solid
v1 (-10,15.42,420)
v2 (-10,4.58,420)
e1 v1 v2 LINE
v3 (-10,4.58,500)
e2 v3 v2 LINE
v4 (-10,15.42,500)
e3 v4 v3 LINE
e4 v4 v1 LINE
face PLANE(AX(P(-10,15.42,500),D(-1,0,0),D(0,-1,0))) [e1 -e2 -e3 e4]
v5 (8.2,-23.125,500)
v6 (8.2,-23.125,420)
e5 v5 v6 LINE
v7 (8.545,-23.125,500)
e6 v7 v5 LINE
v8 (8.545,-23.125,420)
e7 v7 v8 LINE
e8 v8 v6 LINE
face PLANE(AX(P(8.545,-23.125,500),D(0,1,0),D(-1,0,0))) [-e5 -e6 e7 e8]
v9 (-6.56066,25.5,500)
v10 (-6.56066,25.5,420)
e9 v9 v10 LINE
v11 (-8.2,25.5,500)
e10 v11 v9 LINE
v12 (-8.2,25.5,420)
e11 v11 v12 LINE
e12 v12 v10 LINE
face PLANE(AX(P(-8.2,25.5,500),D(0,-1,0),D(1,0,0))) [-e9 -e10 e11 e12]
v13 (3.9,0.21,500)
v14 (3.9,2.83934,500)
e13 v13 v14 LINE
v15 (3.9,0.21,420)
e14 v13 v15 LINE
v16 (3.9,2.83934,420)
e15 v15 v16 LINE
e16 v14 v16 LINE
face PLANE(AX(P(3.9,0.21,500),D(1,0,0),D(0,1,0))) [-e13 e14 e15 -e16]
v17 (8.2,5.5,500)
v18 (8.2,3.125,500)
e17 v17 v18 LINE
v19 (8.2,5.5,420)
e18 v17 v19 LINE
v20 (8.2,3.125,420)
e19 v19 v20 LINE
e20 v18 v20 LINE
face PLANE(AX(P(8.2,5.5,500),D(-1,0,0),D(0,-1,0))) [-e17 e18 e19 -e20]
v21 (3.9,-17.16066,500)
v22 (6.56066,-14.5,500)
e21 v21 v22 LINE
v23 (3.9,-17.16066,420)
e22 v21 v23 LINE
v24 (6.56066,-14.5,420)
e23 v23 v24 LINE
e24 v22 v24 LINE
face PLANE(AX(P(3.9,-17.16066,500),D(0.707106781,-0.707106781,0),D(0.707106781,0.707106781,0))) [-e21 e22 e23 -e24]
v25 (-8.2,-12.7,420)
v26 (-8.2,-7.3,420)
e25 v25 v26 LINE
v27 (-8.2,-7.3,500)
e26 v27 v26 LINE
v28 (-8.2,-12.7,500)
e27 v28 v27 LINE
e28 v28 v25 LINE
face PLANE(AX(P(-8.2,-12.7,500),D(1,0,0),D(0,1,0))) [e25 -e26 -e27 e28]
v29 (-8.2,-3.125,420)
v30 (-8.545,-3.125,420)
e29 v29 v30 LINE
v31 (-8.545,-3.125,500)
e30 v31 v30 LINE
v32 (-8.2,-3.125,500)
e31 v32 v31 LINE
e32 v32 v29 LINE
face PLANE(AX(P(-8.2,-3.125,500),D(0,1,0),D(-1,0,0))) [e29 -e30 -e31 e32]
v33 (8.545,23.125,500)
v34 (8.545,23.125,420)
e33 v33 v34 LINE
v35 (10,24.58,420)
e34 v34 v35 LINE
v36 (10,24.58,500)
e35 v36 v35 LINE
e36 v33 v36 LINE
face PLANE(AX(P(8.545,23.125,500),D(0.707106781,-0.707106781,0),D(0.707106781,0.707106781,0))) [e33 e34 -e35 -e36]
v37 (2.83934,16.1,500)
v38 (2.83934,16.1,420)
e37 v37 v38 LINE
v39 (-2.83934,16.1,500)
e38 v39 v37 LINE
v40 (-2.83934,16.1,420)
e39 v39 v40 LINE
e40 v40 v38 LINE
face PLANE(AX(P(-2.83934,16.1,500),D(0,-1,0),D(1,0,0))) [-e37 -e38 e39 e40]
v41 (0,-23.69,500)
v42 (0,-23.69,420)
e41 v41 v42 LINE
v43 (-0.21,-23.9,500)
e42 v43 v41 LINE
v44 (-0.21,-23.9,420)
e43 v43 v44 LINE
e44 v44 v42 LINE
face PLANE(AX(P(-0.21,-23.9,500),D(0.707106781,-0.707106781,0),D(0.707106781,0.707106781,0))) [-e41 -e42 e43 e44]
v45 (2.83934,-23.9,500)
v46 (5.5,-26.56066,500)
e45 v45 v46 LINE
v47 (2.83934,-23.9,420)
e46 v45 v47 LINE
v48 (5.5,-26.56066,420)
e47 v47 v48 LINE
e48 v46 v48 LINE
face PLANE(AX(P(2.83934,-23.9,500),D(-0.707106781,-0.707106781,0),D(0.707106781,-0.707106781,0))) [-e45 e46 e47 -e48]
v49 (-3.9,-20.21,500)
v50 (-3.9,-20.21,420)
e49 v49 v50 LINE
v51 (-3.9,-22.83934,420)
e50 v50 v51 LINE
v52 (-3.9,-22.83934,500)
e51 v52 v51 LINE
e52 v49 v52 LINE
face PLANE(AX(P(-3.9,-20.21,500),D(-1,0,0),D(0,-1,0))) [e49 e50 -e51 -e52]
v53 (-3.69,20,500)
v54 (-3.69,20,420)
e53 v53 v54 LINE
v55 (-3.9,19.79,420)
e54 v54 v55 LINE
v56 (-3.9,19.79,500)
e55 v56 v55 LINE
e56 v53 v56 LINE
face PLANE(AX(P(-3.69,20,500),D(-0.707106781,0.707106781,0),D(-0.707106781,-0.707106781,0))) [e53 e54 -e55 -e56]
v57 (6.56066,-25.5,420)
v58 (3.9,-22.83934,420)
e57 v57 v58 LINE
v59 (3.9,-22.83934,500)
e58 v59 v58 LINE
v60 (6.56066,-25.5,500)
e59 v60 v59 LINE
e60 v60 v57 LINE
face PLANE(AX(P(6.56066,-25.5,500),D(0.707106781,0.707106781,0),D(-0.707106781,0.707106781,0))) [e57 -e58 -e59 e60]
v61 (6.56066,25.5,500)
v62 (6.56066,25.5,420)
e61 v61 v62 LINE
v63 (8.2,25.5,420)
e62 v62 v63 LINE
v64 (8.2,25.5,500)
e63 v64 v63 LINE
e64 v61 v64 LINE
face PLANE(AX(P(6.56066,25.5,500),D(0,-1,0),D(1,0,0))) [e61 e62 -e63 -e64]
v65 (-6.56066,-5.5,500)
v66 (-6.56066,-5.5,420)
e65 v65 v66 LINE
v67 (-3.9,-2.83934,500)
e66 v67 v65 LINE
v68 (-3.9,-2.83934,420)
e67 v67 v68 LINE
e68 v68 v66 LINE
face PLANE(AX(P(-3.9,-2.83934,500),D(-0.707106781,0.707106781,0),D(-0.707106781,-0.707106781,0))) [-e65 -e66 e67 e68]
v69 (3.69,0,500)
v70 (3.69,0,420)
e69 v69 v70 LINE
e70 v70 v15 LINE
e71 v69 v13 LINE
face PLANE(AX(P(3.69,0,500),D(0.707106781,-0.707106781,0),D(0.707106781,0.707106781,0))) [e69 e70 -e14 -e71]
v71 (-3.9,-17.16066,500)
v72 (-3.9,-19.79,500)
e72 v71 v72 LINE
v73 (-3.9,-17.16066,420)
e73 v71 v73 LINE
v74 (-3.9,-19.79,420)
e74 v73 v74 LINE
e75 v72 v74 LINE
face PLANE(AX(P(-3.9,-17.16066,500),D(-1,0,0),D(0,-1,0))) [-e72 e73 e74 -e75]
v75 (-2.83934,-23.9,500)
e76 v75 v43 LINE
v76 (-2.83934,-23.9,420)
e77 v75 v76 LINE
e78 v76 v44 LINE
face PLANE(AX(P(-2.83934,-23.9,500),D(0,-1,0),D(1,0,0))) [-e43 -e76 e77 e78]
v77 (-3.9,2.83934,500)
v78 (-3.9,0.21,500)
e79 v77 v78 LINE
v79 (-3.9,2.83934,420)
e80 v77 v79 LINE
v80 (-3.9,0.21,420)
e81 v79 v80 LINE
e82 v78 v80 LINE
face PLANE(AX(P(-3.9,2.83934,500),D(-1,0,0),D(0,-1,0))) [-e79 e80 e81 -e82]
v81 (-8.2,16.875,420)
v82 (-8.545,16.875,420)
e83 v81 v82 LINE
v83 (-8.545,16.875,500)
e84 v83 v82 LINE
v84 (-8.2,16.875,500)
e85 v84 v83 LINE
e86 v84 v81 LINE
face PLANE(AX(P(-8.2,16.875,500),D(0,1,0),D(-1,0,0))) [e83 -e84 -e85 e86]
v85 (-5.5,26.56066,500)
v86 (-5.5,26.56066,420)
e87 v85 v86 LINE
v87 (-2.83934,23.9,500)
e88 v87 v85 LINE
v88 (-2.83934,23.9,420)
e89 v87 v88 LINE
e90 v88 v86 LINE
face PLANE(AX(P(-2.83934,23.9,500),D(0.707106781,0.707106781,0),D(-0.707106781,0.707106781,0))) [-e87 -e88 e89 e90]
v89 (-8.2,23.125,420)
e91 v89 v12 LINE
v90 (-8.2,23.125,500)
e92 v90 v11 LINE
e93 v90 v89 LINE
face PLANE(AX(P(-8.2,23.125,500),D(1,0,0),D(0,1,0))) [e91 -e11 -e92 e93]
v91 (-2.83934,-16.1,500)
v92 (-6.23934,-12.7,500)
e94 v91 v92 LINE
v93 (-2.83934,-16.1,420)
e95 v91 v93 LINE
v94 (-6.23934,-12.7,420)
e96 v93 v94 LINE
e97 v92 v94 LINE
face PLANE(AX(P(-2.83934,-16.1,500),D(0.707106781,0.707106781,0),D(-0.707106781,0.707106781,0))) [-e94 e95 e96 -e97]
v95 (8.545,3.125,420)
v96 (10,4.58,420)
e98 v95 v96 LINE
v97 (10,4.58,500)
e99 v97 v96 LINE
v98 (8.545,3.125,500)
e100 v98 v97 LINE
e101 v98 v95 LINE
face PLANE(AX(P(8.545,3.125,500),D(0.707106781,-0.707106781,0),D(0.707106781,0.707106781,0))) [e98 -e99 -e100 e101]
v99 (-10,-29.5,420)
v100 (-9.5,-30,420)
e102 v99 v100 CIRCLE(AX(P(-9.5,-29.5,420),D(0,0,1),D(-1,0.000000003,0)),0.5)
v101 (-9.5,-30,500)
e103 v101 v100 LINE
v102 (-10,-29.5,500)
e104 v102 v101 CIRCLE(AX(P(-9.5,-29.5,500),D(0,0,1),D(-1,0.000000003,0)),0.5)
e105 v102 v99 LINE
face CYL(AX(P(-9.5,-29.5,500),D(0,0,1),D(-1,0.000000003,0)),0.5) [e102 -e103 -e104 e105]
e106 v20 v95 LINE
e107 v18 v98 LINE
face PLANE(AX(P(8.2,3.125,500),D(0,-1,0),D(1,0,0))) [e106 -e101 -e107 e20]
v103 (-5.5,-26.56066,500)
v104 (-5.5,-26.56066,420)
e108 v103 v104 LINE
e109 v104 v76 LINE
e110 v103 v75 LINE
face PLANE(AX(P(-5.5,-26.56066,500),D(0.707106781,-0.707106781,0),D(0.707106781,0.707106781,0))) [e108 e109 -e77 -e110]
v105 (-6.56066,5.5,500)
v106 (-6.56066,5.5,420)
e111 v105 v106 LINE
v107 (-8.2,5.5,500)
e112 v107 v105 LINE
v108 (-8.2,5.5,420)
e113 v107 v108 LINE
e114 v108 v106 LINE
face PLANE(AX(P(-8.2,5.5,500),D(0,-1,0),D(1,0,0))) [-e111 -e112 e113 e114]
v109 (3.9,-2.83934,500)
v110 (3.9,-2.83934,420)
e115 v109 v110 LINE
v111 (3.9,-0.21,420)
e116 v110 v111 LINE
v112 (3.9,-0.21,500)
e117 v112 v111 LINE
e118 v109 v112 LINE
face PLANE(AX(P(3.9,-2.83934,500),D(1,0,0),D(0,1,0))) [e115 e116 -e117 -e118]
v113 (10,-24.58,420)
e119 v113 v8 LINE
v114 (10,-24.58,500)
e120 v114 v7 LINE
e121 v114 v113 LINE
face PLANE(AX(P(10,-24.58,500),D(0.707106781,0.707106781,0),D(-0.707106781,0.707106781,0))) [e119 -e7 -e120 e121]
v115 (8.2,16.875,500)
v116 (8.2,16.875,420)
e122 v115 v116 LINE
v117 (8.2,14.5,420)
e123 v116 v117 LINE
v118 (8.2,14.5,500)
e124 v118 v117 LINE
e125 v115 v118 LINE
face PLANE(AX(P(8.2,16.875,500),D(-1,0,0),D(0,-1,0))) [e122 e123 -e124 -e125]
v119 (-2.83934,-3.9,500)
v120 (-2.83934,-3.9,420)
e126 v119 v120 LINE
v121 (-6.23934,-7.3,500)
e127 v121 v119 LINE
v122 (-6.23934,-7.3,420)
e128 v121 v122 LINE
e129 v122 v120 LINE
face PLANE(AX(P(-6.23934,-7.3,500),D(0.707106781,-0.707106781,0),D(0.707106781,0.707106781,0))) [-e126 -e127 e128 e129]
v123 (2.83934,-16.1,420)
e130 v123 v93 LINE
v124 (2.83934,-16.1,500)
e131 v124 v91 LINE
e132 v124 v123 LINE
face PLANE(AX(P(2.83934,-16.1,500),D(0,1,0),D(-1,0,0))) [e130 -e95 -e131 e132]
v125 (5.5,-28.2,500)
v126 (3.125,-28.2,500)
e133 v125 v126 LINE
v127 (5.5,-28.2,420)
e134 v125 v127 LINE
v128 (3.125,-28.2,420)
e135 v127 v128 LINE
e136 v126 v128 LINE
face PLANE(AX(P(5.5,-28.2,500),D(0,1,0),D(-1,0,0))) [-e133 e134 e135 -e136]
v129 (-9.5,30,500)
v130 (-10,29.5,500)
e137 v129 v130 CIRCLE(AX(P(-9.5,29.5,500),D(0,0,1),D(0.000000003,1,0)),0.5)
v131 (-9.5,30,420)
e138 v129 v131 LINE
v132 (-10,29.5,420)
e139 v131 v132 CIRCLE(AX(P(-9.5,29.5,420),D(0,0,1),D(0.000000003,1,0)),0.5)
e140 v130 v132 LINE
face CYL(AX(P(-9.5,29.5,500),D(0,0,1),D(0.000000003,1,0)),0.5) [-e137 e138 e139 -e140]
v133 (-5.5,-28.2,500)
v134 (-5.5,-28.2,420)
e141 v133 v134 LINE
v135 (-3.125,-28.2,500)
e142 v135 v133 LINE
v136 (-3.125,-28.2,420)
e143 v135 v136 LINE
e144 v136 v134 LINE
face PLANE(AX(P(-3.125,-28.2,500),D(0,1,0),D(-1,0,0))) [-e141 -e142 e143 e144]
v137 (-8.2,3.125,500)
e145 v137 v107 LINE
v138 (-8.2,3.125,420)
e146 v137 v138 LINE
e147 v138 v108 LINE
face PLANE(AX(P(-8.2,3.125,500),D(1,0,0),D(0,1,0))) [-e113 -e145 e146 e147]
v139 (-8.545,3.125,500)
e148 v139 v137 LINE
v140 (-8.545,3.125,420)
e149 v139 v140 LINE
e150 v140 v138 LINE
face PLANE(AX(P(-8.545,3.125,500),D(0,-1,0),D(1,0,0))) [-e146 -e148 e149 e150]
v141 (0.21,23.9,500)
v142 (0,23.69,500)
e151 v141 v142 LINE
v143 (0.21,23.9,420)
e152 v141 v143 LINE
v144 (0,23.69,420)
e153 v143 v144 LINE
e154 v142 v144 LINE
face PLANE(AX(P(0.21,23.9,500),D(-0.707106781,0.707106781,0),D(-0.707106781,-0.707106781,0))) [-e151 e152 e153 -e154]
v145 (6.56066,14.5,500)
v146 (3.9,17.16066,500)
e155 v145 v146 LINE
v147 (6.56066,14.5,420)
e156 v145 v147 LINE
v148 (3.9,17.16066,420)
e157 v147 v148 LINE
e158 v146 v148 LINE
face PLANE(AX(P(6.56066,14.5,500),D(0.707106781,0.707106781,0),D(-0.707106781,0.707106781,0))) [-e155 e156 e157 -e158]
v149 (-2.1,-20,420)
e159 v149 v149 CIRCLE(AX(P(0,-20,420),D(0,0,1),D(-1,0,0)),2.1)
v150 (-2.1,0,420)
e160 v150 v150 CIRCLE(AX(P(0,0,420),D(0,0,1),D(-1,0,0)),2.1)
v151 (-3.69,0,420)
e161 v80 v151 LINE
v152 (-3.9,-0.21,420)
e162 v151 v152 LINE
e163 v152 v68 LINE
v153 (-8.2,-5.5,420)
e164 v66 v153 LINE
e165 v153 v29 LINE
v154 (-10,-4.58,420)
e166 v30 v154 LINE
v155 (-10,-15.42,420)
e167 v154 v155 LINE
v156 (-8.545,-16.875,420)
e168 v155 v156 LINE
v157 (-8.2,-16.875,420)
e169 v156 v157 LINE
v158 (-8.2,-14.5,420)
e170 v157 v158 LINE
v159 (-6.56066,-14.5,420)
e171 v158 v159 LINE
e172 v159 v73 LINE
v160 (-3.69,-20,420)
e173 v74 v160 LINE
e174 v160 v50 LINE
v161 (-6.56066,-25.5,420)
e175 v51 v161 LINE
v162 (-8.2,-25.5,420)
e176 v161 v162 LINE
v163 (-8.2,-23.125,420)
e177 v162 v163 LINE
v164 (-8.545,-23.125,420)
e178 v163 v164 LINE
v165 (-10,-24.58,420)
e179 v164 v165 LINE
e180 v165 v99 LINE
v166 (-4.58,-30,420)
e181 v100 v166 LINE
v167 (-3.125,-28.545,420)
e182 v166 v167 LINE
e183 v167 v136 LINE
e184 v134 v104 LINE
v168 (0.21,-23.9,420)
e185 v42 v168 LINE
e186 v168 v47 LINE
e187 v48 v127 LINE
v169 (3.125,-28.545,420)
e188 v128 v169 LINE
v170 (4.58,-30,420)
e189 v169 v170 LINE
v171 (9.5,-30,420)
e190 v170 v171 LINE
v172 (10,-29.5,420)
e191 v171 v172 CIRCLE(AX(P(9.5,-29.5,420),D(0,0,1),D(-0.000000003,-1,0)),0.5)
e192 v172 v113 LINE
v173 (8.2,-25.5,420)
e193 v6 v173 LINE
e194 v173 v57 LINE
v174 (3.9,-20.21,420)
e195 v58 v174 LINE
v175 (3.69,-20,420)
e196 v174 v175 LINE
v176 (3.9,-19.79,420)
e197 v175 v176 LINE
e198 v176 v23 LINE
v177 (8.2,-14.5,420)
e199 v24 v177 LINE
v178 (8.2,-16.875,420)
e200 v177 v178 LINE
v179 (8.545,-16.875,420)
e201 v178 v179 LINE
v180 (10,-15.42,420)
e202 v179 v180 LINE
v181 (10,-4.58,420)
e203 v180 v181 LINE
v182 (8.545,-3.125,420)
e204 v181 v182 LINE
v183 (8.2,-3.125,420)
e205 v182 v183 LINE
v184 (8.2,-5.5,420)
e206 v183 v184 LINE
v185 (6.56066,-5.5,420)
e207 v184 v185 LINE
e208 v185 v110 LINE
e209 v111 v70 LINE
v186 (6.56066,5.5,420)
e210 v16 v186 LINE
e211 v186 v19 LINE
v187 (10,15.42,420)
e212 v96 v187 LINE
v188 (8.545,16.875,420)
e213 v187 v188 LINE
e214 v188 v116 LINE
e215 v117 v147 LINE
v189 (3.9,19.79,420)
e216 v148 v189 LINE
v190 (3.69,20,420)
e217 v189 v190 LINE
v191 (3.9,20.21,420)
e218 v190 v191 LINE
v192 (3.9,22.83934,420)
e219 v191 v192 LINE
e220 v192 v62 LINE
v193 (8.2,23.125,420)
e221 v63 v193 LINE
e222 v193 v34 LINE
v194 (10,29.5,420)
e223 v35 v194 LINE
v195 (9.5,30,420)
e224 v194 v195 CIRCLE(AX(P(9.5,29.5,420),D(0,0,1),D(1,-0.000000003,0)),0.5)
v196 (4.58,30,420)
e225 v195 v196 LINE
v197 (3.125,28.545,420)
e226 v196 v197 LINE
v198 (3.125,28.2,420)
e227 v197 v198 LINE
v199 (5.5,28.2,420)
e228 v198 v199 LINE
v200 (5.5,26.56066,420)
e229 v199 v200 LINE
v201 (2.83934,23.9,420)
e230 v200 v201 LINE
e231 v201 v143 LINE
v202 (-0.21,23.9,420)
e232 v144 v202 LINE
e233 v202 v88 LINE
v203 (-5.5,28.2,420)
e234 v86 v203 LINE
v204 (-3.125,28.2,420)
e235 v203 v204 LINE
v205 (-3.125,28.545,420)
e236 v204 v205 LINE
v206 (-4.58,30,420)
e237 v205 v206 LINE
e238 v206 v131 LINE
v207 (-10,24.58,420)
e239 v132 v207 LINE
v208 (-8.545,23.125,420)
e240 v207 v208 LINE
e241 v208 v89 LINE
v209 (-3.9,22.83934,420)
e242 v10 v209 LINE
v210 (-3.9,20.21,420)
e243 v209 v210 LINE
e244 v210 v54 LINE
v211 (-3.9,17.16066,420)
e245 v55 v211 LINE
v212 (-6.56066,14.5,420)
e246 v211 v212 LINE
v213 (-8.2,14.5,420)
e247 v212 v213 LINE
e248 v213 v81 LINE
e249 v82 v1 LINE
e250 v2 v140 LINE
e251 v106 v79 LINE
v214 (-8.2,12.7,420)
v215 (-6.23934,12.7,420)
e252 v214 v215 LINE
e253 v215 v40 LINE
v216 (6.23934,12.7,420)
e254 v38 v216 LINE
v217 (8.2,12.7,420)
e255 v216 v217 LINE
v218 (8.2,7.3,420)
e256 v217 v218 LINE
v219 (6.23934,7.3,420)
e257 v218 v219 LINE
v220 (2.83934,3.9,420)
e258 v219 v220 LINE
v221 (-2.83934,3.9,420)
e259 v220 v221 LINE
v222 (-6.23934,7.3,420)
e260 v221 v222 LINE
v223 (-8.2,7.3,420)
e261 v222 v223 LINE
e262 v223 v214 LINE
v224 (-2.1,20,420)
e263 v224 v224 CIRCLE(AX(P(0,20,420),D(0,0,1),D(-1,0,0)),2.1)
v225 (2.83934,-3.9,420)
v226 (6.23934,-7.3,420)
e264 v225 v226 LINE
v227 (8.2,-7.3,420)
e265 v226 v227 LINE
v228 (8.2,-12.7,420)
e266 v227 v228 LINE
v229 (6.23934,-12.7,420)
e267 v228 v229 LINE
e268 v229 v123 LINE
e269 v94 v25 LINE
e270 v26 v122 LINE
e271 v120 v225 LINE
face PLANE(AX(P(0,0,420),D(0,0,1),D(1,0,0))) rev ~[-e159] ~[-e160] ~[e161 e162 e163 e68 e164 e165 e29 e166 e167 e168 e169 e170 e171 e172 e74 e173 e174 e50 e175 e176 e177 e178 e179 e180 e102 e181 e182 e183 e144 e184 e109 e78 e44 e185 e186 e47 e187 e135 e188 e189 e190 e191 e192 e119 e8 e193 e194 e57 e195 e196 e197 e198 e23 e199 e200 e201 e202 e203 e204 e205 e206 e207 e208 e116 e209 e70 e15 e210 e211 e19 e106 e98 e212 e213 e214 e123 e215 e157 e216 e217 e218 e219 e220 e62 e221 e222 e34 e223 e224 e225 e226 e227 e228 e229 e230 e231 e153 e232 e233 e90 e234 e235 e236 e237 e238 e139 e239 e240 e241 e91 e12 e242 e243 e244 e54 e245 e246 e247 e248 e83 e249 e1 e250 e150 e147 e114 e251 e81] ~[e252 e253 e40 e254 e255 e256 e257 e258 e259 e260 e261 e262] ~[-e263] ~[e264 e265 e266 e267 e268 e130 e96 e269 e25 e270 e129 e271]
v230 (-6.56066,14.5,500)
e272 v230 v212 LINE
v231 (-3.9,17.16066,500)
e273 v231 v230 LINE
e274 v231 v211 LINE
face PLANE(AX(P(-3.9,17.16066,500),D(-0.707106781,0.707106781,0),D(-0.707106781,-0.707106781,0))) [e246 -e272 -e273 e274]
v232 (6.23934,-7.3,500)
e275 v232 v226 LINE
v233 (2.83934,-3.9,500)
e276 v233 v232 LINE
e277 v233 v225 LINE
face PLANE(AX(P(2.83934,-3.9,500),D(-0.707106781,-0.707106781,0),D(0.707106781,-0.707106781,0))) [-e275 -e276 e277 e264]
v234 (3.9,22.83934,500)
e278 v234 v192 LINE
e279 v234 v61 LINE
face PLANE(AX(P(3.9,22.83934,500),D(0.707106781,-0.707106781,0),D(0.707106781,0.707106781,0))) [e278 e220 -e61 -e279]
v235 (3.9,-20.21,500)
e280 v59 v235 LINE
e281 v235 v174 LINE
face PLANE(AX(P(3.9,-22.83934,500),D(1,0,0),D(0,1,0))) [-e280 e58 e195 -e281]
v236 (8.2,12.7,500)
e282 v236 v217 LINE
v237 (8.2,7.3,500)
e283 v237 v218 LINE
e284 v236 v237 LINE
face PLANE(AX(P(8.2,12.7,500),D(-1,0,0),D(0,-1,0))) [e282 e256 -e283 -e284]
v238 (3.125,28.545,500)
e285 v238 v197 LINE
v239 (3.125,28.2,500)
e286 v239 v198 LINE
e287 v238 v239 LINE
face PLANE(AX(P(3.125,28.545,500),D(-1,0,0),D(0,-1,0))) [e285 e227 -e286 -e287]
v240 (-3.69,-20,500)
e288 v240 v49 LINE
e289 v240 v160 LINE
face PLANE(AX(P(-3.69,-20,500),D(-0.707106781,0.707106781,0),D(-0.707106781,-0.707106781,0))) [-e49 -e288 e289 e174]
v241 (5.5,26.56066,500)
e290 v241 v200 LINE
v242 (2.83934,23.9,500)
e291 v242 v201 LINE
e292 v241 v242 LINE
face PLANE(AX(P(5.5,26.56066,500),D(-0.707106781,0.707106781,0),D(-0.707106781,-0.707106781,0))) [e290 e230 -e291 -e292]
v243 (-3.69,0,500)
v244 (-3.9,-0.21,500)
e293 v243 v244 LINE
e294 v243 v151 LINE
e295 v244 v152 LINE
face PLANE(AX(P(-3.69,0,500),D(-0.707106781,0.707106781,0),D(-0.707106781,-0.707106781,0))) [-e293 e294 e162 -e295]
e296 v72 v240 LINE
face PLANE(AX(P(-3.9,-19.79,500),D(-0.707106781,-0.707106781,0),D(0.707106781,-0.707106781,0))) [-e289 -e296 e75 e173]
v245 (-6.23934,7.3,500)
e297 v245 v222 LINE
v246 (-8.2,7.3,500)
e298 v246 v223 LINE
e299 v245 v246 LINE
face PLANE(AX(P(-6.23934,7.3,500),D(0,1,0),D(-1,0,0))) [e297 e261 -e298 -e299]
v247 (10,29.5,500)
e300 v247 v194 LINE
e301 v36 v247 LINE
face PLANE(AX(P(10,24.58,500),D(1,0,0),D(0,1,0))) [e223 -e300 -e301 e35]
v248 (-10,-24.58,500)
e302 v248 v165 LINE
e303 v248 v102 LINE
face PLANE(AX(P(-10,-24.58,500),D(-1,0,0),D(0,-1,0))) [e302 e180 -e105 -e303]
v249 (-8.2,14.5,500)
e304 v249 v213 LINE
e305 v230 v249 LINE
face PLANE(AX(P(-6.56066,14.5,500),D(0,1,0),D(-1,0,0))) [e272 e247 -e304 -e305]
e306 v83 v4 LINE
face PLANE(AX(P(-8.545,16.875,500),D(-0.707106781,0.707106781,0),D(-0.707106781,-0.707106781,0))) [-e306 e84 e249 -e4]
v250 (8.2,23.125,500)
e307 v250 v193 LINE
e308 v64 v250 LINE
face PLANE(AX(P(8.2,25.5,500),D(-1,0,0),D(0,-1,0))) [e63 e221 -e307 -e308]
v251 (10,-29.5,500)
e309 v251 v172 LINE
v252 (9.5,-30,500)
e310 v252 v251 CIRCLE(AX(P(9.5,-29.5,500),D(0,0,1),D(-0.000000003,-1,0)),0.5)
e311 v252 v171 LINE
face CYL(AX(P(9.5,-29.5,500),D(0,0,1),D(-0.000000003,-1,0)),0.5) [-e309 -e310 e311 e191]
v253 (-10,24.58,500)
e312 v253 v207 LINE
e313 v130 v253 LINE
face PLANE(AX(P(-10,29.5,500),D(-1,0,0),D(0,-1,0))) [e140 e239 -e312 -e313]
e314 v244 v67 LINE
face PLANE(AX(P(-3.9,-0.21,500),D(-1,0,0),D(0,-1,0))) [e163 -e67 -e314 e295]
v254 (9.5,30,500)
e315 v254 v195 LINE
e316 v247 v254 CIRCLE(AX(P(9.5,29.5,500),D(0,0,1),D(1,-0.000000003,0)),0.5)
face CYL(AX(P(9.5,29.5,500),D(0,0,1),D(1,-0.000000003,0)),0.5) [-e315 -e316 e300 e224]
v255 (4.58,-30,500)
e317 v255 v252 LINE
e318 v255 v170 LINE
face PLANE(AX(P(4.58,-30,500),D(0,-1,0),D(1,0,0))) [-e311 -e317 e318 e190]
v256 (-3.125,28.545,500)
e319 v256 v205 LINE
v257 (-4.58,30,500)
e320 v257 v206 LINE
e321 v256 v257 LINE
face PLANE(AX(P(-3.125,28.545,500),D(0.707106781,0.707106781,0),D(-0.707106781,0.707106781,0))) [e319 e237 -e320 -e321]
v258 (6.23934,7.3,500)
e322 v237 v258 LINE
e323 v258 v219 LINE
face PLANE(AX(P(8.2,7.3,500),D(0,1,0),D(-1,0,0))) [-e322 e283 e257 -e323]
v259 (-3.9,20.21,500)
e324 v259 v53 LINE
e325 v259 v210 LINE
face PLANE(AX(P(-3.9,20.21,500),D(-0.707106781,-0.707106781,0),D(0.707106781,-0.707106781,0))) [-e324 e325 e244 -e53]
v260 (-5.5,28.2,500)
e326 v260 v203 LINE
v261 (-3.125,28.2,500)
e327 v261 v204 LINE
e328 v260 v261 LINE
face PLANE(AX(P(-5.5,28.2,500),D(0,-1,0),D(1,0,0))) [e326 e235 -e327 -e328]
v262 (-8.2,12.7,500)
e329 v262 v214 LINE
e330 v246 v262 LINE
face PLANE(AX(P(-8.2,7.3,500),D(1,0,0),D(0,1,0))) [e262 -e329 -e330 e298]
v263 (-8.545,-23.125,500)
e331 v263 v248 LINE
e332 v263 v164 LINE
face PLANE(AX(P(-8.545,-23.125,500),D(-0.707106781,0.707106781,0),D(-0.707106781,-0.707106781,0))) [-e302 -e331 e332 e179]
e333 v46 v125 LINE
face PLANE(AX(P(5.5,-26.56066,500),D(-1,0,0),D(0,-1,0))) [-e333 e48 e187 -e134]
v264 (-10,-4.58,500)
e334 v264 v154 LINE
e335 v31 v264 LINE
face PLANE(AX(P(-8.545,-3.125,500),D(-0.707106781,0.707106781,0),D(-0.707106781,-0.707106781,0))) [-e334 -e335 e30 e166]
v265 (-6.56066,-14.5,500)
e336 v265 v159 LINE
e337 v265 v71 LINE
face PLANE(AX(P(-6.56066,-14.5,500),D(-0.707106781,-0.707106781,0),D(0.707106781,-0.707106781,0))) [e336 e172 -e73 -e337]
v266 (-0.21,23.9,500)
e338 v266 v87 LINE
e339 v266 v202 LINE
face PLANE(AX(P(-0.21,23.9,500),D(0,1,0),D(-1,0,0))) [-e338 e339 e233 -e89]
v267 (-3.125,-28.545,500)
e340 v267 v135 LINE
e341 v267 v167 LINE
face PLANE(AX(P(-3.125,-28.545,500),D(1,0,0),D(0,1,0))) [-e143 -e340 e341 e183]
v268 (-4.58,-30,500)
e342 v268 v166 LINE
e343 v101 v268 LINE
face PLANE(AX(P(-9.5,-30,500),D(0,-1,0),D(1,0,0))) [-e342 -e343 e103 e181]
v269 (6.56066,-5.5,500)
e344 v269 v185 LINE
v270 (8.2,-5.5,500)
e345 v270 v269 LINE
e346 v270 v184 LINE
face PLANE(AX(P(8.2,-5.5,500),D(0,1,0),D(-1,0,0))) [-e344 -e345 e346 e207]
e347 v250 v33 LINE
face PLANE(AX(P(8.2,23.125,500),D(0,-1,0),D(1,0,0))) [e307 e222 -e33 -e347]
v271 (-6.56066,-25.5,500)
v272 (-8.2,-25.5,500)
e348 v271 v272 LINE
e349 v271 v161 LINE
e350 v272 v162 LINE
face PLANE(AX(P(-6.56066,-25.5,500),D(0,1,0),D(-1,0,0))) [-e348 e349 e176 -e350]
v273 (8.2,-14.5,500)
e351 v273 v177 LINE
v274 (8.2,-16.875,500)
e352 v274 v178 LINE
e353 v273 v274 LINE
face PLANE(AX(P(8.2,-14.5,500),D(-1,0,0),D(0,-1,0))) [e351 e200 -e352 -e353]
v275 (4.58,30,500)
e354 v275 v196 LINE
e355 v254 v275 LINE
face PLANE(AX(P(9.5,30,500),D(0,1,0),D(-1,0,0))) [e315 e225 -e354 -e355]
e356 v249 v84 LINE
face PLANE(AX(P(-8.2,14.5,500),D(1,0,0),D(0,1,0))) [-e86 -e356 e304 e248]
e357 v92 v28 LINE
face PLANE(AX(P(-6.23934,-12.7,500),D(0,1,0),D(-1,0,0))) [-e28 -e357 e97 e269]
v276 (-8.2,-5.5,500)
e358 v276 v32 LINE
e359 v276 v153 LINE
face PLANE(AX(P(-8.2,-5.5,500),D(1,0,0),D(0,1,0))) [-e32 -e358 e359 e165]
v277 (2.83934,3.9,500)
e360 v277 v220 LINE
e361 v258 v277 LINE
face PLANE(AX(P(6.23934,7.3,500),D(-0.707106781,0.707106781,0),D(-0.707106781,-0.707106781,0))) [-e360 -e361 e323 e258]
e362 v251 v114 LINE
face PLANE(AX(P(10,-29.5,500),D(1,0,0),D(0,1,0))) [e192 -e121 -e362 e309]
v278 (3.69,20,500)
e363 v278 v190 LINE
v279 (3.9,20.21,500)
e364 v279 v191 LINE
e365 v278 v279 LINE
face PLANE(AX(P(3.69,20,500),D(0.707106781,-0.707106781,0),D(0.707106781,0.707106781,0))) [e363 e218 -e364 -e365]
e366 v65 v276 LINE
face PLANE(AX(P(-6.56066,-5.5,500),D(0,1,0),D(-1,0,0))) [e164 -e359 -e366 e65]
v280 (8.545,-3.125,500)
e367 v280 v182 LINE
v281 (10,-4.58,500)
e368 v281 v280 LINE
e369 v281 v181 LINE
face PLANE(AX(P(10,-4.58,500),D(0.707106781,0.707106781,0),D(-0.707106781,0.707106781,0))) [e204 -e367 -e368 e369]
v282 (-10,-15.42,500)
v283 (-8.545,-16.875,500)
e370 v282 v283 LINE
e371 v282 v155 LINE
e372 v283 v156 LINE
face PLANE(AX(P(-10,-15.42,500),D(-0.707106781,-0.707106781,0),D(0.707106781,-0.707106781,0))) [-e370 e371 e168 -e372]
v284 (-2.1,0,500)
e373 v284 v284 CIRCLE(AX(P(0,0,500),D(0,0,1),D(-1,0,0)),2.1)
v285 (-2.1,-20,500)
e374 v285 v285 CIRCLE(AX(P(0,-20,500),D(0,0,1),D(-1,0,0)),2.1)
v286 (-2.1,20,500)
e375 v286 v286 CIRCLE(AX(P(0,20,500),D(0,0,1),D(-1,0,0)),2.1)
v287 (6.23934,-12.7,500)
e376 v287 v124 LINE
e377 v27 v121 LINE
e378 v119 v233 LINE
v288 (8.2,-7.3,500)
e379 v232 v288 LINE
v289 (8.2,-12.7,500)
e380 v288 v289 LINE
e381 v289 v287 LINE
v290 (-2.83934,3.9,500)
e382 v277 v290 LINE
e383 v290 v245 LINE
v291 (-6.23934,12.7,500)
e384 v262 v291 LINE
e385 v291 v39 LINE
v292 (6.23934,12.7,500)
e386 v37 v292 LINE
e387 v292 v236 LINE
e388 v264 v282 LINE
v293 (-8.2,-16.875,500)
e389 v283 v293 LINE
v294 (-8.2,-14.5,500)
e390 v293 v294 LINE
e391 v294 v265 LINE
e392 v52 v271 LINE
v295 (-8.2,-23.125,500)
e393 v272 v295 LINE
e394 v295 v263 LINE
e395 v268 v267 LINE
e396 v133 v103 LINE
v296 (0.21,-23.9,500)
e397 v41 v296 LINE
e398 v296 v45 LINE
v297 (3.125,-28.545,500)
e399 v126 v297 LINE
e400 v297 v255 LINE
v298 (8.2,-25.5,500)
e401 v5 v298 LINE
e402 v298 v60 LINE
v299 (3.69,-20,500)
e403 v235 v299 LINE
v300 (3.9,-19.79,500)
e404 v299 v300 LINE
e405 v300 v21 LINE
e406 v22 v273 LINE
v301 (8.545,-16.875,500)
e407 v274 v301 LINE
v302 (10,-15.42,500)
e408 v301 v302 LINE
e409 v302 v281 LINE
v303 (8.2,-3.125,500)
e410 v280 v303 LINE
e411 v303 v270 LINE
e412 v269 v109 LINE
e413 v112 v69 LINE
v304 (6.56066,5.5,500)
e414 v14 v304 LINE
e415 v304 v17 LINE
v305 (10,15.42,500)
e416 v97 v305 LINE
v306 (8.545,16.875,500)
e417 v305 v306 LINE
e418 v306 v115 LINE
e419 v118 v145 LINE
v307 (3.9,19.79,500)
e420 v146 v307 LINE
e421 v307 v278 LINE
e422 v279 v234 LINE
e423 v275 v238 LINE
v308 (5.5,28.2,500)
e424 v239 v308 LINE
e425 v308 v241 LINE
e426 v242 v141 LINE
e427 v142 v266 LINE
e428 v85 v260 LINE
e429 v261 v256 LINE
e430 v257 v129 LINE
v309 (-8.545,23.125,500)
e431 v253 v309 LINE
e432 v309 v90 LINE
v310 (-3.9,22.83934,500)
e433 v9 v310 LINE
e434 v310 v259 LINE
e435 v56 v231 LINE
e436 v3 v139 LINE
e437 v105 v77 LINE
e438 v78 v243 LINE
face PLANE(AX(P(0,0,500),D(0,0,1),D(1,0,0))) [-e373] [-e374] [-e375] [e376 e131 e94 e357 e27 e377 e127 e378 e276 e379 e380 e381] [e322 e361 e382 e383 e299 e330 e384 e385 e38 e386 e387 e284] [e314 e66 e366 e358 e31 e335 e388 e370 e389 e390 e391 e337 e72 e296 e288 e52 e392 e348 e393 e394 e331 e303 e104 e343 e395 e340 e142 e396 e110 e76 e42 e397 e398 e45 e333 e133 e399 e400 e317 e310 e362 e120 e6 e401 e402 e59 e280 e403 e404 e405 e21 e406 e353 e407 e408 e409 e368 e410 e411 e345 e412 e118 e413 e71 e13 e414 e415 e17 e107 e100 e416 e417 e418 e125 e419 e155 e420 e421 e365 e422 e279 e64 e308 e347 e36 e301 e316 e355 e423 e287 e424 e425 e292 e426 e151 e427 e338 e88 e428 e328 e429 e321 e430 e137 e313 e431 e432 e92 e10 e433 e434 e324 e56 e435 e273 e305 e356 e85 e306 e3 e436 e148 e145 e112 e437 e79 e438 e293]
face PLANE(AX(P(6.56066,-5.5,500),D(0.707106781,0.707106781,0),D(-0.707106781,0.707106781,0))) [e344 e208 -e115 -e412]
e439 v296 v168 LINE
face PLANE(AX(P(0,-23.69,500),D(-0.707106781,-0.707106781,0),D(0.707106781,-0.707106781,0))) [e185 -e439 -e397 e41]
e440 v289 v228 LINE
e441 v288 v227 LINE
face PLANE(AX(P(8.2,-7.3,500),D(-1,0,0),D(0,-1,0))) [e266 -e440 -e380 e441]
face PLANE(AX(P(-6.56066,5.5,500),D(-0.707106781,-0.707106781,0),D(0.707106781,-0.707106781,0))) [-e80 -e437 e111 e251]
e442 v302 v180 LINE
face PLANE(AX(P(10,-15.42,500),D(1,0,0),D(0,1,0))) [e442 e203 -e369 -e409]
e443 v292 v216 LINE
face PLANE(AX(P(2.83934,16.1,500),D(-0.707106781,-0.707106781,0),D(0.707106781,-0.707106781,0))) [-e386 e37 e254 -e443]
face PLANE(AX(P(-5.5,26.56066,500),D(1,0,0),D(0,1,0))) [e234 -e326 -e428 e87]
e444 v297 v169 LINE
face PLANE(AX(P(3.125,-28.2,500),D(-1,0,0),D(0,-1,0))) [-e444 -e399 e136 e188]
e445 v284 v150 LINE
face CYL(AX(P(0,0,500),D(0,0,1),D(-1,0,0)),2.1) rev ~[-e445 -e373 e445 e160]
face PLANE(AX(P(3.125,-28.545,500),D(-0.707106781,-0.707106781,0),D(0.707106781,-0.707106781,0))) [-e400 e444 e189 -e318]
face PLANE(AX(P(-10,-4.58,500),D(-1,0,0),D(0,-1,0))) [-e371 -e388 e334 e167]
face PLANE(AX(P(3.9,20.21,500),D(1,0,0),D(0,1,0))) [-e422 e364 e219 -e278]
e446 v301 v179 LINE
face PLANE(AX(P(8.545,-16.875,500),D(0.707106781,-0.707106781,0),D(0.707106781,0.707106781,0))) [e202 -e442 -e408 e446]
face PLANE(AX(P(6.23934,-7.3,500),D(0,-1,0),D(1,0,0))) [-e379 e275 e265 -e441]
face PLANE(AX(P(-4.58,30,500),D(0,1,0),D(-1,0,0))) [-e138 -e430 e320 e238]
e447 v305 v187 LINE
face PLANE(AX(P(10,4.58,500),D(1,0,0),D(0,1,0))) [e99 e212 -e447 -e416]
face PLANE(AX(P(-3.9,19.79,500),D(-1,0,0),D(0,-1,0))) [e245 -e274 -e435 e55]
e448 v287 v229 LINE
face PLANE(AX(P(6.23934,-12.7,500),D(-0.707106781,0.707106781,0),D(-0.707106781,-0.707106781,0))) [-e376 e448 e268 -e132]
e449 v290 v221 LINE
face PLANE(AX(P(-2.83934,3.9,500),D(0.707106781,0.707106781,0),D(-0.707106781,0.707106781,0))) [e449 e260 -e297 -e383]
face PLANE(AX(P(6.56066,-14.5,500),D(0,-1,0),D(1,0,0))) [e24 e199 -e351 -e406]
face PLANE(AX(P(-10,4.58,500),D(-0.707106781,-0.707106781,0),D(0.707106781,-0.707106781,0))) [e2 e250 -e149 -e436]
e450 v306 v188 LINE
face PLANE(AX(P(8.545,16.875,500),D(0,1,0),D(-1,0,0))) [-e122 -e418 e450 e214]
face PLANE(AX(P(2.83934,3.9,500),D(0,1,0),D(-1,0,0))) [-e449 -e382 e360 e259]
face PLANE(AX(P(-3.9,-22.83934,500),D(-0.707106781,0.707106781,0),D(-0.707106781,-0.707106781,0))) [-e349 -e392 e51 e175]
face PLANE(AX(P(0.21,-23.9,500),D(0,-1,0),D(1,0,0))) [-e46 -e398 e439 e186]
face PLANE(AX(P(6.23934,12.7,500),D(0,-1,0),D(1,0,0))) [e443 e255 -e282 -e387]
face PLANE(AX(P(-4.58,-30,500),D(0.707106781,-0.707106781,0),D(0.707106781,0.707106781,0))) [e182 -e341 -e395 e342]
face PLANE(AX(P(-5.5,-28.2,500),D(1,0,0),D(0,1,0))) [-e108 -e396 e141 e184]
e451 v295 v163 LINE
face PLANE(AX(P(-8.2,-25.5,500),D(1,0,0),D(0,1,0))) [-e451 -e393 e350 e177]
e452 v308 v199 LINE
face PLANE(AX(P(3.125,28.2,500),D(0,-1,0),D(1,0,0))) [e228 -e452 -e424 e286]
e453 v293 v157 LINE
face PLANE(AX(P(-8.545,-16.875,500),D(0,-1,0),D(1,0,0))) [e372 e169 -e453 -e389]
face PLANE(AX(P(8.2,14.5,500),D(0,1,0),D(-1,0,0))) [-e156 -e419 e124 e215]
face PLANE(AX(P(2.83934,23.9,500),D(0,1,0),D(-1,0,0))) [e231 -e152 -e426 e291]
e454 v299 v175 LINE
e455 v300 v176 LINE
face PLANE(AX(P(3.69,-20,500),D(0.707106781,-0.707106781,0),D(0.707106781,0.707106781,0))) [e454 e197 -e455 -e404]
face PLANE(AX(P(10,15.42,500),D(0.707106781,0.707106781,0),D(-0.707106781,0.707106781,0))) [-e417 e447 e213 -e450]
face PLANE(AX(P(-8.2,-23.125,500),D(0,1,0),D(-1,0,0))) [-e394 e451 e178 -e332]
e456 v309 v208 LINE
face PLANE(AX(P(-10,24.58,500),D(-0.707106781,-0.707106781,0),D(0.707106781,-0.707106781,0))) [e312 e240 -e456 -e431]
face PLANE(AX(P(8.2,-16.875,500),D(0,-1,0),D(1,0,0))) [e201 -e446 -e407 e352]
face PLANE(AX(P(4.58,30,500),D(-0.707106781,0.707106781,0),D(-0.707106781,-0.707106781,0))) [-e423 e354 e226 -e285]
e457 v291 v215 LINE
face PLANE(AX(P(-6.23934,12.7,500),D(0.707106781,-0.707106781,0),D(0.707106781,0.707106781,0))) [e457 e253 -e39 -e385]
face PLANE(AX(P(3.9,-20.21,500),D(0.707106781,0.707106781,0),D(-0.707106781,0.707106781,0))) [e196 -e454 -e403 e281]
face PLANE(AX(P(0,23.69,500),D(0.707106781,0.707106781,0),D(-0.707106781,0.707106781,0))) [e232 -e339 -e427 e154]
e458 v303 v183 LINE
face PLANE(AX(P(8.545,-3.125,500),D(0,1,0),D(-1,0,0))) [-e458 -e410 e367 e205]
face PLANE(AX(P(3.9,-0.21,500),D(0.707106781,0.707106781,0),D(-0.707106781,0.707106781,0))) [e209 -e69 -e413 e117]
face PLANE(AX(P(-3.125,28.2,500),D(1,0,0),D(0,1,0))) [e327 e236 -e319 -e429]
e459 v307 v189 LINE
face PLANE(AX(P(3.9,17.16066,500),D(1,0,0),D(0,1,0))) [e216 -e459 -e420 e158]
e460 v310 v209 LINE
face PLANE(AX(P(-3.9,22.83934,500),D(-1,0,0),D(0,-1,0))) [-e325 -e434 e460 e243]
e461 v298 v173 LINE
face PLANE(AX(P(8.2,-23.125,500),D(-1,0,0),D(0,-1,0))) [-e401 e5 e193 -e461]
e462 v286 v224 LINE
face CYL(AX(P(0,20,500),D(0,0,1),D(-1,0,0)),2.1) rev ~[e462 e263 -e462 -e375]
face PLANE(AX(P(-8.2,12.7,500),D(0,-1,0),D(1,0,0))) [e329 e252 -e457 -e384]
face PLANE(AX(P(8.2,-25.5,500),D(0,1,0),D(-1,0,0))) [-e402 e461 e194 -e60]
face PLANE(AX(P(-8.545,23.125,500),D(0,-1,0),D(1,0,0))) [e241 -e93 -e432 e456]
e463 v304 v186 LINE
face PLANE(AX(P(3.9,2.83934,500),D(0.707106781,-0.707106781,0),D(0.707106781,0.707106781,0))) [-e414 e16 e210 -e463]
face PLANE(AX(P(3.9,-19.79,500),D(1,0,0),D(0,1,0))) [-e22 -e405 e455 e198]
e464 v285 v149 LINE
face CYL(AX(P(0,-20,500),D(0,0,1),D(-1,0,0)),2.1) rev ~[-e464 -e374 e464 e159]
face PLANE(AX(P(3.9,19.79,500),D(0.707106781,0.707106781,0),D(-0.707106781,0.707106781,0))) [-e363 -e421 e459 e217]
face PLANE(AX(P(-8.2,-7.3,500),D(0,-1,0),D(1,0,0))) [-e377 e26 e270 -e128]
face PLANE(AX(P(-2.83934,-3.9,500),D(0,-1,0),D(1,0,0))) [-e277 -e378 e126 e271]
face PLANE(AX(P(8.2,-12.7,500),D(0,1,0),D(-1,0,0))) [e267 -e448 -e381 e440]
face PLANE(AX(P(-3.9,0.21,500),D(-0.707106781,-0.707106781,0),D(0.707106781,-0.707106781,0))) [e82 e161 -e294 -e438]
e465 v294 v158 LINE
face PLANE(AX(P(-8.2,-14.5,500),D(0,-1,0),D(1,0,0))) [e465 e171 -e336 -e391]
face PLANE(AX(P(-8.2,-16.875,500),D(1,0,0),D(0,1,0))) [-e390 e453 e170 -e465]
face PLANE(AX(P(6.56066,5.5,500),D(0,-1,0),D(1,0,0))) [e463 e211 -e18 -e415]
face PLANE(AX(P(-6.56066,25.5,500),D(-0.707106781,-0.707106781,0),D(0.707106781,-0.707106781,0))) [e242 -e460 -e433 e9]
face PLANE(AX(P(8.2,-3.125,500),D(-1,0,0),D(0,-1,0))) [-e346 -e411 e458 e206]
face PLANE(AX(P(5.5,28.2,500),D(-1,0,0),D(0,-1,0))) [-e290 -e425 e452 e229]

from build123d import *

# Parameters (mm, degrees)
SKETCH1_R           = 2.1
BOSS_EXTRUDE1_DEPTH = 80


with BuildPart() as part:
    # Sketch1 → Boss-Extrude1 (new body)
    with BuildSketch(Plane.XY.offset(500)):
        with BuildLine():
            Line((6.560660172, 14.5), (3.9, 17.160660172))
            Line((3.9, 17.160660172), (3.9, 19.79))
            Line((3.9, 19.79), (3.69, 20))
            Line((3.69, 20), (3.9, 20.21))
            Line((3.9, 20.21), (3.9, 22.839339828))
            Line((3.9, 22.839339828), (6.560660172, 25.5))
            Line((6.560660172, 25.5), (8.2, 25.5))
            Line((8.2, 25.5), (8.2, 23.125))
            Line((8.2, 23.125), (8.545, 23.125))
            Line((8.545, 23.125), (10, 24.58))
            Line((10, 24.58), (10, 29.5))
            ThreePointArc((10, 29.5), (9.853553391, 29.853553391), (9.5, 30))
            Line((9.5, 30), (4.58, 30))
            Line((4.58, 30), (3.125, 28.545))
            Line((3.125, 28.545), (3.125, 28.2))
            Line((3.125, 28.2), (5.5, 28.2))
            Line((5.5, 28.2), (5.5, 26.560660172))
            Line((5.5, 26.560660172), (2.839339828, 23.9))
            Line((2.839339828, 23.9), (0.21, 23.9))
            Line((0.21, 23.9), (0, 23.69))
            Line((0, 23.69), (-0.21, 23.9))
            Line((-0.21, 23.9), (-2.839339828, 23.9))
            Line((-2.839339828, 23.9), (-5.5, 26.560660172))
            Line((-5.5, 26.560660172), (-5.5, 28.2))
            Line((-5.5, 28.2), (-3.125, 28.2))
            Line((-3.125, 28.2), (-3.125, 28.545))
            Line((-3.125, 28.545), (-4.58, 30))
            Line((-4.58, 30), (-9.5, 30))
            ThreePointArc((-9.5, 30), (-9.853553391, 29.853553391), (-10, 29.5))
            Line((-10, 29.5), (-10, 24.58))
            Line((-10, 24.58), (-8.545, 23.125))
            Line((-8.545, 23.125), (-8.2, 23.125))
            Line((-8.2, 23.125), (-8.2, 25.5))
            Line((-8.2, 25.5), (-6.560660172, 25.5))
            Line((-6.560660172, 25.5), (-3.9, 22.839339828))
            Line((-3.9, 22.839339828), (-3.9, 20.21))
            Line((-3.9, 20.21), (-3.69, 20))
            Line((-3.69, 20), (-3.9, 19.79))
            Line((-3.9, 19.79), (-3.9, 17.160660172))
            Line((-3.9, 17.160660172), (-6.560660172, 14.5))
            Line((-6.560660172, 14.5), (-8.2, 14.5))
            Line((-8.2, 14.5), (-8.2, 16.875))
            Line((-8.2, 16.875), (-8.545, 16.875))
            Line((-8.545, 16.875), (-10, 15.42))
            Line((-10, 15.42), (-10, 4.58))
            Line((-10, 4.58), (-8.545, 3.125))
            Line((-8.545, 3.125), (-8.2, 3.125))
            Line((-8.2, 3.125), (-8.2, 5.5))
            Line((-8.2, 5.5), (-6.560660172, 5.5))
            Line((-6.560660172, 5.5), (-3.9, 2.839339828))
            Line((-3.9, 2.839339828), (-3.9, 0.21))
            Line((-3.9, 0.21), (-3.69, 0))
            Line((-3.69, 0), (-3.9, -0.21))
            Line((-3.9, -0.21), (-3.9, -2.839339828))
            Line((-3.9, -2.839339828), (-6.560660172, -5.5))
            Line((-6.560660172, -5.5), (-8.2, -5.5))
            Line((-8.2, -5.5), (-8.2, -3.125))
            Line((-8.2, -3.125), (-8.545, -3.125))
            Line((-8.545, -3.125), (-10, -4.58))
            Line((-10, -4.58), (-10, -15.42))
            Line((-10, -15.42), (-8.545, -16.875))
            Line((-8.545, -16.875), (-8.2, -16.875))
            Line((-8.2, -16.875), (-8.2, -14.5))
            Line((-8.2, -14.5), (-6.560660172, -14.5))
            Line((-6.560660172, -14.5), (-3.9, -17.160660172))
            Line((-3.9, -17.160660172), (-3.9, -19.79))
            Line((-3.9, -19.79), (-3.69, -20))
            Line((-3.69, -20), (-3.9, -20.21))
            Line((-3.9, -20.21), (-3.9, -22.839339828))
            Line((-3.9, -22.839339828), (-6.560660172, -25.5))
            Line((-6.560660172, -25.5), (-8.2, -25.5))
            Line((-8.2, -25.5), (-8.2, -23.125))
            Line((-8.2, -23.125), (-8.545, -23.125))
            Line((-8.545, -23.125), (-10, -24.58))
            Line((-10, -24.58), (-10, -29.5))
            ThreePointArc((-10, -29.5), (-9.853553391, -29.853553391), (-9.5, -30))
            Line((-9.5, -30), (-4.58, -30))
            Line((-4.58, -30), (-3.125, -28.545))
            Line((-3.125, -28.545), (-3.125, -28.2))
            Line((-3.125, -28.2), (-5.5, -28.2))
            Line((-5.5, -28.2), (-5.5, -26.560660172))
            Line((-5.5, -26.560660172), (-2.839339828, -23.9))
            Line((-2.839339828, -23.9), (-0.21, -23.9))
            Line((-0.21, -23.9), (0, -23.69))
            Line((0, -23.69), (0.21, -23.9))
            Line((0.21, -23.9), (2.839339828, -23.9))
            Line((2.839339828, -23.9), (5.5, -26.560660172))
            Line((5.5, -26.560660172), (5.5, -28.2))
            Line((5.5, -28.2), (3.125, -28.2))
            Line((3.125, -28.2), (3.125, -28.545))
            Line((3.125, -28.545), (4.58, -30))
            Line((4.58, -30), (9.5, -30))
            ThreePointArc((9.5, -30), (9.853553391, -29.853553391), (10, -29.5))
            Line((10, -29.5), (10, -24.58))
            Line((10, -24.58), (8.545, -23.125))
            Line((8.545, -23.125), (8.2, -23.125))
            Line((8.2, -23.125), (8.2, -25.5))
            Line((8.2, -25.5), (6.560660172, -25.5))
            Line((6.560660172, -25.5), (3.9, -22.839339828))
            Line((3.9, -22.839339828), (3.9, -20.21))
            Line((3.9, -20.21), (3.69, -20))
            Line((3.69, -20), (3.9, -19.79))
            Line((3.9, -19.79), (3.9, -17.160660172))
            Line((3.9, -17.160660172), (6.560660172, -14.5))
            Line((6.560660172, -14.5), (8.2, -14.5))
            Line((8.2, -14.5), (8.2, -16.875))
            Line((8.2, -16.875), (8.545, -16.875))
            Line((8.545, -16.875), (10, -15.42))
            Line((10, -15.42), (10, -4.58))
            Line((10, -4.58), (8.545, -3.125))
            Line((8.545, -3.125), (8.2, -3.125))
            Line((8.2, -3.125), (8.2, -5.5))
            Line((8.2, -5.5), (6.560660172, -5.5))
            Line((6.560660172, -5.5), (3.9, -2.839339828))
            Line((3.9, -2.839339828), (3.9, -0.21))
            Line((3.9, -0.21), (3.69, 0))
            Line((3.69, 0), (3.9, 0.21))
            Line((3.9, 0.21), (3.9, 2.839339828))
            Line((3.9, 2.839339828), (6.560660172, 5.5))
            Line((6.560660172, 5.5), (8.2, 5.5))
            Line((8.2, 5.5), (8.2, 3.125))
            Line((8.2, 3.125), (8.545, 3.125))
            Line((8.545, 3.125), (10, 4.58))
            Line((10, 4.58), (10, 15.42))
            Line((10, 15.42), (8.545, 16.875))
            Line((8.545, 16.875), (8.2, 16.875))
            Line((8.2, 16.875), (8.2, 14.5))
            Line((8.2, 14.5), (6.560660172, 14.5))
        make_face()
        with Locations(Location((0, 20, 0), (0, 0, 180))):
            Circle(SKETCH1_R, mode=Mode.SUBTRACT)
        with Locations(Location((0, 0, 0), (0, 0, 180))):
            Circle(SKETCH1_R, mode=Mode.SUBTRACT)
        with Locations(Location((0, -20, 0), (0, 0, 180))):
            Circle(SKETCH1_R, mode=Mode.SUBTRACT)
        Polygon((2.839339828, 3.9), (-2.839339828, 3.9), (-6.239339828, 7.3), (-8.2, 7.3), (-8.2, 12.7), (-6.239339828, 12.7), (-2.839339828, 16.1), (2.839339828, 16.1), (6.239339828, 12.7), (8.2, 12.7), (8.2, 7.3), (6.239339828, 7.3), align=None, mode=Mode.SUBTRACT)
        Polygon((2.839339828, -16.1), (-2.839339828, -16.1), (-6.239339828, -12.7), (-8.2, -12.7), (-8.2, -7.3), (-6.239339828, -7.3), (-2.839339828, -3.9), (2.839339828, -3.9), (6.239339828, -7.3), (8.2, -7.3), (8.2, -12.7), (6.239339828, -12.7), align=None, mode=Mode.SUBTRACT)
    extrude(amount=-BOSS_EXTRUDE1_DEPTH)


solid = part.part
